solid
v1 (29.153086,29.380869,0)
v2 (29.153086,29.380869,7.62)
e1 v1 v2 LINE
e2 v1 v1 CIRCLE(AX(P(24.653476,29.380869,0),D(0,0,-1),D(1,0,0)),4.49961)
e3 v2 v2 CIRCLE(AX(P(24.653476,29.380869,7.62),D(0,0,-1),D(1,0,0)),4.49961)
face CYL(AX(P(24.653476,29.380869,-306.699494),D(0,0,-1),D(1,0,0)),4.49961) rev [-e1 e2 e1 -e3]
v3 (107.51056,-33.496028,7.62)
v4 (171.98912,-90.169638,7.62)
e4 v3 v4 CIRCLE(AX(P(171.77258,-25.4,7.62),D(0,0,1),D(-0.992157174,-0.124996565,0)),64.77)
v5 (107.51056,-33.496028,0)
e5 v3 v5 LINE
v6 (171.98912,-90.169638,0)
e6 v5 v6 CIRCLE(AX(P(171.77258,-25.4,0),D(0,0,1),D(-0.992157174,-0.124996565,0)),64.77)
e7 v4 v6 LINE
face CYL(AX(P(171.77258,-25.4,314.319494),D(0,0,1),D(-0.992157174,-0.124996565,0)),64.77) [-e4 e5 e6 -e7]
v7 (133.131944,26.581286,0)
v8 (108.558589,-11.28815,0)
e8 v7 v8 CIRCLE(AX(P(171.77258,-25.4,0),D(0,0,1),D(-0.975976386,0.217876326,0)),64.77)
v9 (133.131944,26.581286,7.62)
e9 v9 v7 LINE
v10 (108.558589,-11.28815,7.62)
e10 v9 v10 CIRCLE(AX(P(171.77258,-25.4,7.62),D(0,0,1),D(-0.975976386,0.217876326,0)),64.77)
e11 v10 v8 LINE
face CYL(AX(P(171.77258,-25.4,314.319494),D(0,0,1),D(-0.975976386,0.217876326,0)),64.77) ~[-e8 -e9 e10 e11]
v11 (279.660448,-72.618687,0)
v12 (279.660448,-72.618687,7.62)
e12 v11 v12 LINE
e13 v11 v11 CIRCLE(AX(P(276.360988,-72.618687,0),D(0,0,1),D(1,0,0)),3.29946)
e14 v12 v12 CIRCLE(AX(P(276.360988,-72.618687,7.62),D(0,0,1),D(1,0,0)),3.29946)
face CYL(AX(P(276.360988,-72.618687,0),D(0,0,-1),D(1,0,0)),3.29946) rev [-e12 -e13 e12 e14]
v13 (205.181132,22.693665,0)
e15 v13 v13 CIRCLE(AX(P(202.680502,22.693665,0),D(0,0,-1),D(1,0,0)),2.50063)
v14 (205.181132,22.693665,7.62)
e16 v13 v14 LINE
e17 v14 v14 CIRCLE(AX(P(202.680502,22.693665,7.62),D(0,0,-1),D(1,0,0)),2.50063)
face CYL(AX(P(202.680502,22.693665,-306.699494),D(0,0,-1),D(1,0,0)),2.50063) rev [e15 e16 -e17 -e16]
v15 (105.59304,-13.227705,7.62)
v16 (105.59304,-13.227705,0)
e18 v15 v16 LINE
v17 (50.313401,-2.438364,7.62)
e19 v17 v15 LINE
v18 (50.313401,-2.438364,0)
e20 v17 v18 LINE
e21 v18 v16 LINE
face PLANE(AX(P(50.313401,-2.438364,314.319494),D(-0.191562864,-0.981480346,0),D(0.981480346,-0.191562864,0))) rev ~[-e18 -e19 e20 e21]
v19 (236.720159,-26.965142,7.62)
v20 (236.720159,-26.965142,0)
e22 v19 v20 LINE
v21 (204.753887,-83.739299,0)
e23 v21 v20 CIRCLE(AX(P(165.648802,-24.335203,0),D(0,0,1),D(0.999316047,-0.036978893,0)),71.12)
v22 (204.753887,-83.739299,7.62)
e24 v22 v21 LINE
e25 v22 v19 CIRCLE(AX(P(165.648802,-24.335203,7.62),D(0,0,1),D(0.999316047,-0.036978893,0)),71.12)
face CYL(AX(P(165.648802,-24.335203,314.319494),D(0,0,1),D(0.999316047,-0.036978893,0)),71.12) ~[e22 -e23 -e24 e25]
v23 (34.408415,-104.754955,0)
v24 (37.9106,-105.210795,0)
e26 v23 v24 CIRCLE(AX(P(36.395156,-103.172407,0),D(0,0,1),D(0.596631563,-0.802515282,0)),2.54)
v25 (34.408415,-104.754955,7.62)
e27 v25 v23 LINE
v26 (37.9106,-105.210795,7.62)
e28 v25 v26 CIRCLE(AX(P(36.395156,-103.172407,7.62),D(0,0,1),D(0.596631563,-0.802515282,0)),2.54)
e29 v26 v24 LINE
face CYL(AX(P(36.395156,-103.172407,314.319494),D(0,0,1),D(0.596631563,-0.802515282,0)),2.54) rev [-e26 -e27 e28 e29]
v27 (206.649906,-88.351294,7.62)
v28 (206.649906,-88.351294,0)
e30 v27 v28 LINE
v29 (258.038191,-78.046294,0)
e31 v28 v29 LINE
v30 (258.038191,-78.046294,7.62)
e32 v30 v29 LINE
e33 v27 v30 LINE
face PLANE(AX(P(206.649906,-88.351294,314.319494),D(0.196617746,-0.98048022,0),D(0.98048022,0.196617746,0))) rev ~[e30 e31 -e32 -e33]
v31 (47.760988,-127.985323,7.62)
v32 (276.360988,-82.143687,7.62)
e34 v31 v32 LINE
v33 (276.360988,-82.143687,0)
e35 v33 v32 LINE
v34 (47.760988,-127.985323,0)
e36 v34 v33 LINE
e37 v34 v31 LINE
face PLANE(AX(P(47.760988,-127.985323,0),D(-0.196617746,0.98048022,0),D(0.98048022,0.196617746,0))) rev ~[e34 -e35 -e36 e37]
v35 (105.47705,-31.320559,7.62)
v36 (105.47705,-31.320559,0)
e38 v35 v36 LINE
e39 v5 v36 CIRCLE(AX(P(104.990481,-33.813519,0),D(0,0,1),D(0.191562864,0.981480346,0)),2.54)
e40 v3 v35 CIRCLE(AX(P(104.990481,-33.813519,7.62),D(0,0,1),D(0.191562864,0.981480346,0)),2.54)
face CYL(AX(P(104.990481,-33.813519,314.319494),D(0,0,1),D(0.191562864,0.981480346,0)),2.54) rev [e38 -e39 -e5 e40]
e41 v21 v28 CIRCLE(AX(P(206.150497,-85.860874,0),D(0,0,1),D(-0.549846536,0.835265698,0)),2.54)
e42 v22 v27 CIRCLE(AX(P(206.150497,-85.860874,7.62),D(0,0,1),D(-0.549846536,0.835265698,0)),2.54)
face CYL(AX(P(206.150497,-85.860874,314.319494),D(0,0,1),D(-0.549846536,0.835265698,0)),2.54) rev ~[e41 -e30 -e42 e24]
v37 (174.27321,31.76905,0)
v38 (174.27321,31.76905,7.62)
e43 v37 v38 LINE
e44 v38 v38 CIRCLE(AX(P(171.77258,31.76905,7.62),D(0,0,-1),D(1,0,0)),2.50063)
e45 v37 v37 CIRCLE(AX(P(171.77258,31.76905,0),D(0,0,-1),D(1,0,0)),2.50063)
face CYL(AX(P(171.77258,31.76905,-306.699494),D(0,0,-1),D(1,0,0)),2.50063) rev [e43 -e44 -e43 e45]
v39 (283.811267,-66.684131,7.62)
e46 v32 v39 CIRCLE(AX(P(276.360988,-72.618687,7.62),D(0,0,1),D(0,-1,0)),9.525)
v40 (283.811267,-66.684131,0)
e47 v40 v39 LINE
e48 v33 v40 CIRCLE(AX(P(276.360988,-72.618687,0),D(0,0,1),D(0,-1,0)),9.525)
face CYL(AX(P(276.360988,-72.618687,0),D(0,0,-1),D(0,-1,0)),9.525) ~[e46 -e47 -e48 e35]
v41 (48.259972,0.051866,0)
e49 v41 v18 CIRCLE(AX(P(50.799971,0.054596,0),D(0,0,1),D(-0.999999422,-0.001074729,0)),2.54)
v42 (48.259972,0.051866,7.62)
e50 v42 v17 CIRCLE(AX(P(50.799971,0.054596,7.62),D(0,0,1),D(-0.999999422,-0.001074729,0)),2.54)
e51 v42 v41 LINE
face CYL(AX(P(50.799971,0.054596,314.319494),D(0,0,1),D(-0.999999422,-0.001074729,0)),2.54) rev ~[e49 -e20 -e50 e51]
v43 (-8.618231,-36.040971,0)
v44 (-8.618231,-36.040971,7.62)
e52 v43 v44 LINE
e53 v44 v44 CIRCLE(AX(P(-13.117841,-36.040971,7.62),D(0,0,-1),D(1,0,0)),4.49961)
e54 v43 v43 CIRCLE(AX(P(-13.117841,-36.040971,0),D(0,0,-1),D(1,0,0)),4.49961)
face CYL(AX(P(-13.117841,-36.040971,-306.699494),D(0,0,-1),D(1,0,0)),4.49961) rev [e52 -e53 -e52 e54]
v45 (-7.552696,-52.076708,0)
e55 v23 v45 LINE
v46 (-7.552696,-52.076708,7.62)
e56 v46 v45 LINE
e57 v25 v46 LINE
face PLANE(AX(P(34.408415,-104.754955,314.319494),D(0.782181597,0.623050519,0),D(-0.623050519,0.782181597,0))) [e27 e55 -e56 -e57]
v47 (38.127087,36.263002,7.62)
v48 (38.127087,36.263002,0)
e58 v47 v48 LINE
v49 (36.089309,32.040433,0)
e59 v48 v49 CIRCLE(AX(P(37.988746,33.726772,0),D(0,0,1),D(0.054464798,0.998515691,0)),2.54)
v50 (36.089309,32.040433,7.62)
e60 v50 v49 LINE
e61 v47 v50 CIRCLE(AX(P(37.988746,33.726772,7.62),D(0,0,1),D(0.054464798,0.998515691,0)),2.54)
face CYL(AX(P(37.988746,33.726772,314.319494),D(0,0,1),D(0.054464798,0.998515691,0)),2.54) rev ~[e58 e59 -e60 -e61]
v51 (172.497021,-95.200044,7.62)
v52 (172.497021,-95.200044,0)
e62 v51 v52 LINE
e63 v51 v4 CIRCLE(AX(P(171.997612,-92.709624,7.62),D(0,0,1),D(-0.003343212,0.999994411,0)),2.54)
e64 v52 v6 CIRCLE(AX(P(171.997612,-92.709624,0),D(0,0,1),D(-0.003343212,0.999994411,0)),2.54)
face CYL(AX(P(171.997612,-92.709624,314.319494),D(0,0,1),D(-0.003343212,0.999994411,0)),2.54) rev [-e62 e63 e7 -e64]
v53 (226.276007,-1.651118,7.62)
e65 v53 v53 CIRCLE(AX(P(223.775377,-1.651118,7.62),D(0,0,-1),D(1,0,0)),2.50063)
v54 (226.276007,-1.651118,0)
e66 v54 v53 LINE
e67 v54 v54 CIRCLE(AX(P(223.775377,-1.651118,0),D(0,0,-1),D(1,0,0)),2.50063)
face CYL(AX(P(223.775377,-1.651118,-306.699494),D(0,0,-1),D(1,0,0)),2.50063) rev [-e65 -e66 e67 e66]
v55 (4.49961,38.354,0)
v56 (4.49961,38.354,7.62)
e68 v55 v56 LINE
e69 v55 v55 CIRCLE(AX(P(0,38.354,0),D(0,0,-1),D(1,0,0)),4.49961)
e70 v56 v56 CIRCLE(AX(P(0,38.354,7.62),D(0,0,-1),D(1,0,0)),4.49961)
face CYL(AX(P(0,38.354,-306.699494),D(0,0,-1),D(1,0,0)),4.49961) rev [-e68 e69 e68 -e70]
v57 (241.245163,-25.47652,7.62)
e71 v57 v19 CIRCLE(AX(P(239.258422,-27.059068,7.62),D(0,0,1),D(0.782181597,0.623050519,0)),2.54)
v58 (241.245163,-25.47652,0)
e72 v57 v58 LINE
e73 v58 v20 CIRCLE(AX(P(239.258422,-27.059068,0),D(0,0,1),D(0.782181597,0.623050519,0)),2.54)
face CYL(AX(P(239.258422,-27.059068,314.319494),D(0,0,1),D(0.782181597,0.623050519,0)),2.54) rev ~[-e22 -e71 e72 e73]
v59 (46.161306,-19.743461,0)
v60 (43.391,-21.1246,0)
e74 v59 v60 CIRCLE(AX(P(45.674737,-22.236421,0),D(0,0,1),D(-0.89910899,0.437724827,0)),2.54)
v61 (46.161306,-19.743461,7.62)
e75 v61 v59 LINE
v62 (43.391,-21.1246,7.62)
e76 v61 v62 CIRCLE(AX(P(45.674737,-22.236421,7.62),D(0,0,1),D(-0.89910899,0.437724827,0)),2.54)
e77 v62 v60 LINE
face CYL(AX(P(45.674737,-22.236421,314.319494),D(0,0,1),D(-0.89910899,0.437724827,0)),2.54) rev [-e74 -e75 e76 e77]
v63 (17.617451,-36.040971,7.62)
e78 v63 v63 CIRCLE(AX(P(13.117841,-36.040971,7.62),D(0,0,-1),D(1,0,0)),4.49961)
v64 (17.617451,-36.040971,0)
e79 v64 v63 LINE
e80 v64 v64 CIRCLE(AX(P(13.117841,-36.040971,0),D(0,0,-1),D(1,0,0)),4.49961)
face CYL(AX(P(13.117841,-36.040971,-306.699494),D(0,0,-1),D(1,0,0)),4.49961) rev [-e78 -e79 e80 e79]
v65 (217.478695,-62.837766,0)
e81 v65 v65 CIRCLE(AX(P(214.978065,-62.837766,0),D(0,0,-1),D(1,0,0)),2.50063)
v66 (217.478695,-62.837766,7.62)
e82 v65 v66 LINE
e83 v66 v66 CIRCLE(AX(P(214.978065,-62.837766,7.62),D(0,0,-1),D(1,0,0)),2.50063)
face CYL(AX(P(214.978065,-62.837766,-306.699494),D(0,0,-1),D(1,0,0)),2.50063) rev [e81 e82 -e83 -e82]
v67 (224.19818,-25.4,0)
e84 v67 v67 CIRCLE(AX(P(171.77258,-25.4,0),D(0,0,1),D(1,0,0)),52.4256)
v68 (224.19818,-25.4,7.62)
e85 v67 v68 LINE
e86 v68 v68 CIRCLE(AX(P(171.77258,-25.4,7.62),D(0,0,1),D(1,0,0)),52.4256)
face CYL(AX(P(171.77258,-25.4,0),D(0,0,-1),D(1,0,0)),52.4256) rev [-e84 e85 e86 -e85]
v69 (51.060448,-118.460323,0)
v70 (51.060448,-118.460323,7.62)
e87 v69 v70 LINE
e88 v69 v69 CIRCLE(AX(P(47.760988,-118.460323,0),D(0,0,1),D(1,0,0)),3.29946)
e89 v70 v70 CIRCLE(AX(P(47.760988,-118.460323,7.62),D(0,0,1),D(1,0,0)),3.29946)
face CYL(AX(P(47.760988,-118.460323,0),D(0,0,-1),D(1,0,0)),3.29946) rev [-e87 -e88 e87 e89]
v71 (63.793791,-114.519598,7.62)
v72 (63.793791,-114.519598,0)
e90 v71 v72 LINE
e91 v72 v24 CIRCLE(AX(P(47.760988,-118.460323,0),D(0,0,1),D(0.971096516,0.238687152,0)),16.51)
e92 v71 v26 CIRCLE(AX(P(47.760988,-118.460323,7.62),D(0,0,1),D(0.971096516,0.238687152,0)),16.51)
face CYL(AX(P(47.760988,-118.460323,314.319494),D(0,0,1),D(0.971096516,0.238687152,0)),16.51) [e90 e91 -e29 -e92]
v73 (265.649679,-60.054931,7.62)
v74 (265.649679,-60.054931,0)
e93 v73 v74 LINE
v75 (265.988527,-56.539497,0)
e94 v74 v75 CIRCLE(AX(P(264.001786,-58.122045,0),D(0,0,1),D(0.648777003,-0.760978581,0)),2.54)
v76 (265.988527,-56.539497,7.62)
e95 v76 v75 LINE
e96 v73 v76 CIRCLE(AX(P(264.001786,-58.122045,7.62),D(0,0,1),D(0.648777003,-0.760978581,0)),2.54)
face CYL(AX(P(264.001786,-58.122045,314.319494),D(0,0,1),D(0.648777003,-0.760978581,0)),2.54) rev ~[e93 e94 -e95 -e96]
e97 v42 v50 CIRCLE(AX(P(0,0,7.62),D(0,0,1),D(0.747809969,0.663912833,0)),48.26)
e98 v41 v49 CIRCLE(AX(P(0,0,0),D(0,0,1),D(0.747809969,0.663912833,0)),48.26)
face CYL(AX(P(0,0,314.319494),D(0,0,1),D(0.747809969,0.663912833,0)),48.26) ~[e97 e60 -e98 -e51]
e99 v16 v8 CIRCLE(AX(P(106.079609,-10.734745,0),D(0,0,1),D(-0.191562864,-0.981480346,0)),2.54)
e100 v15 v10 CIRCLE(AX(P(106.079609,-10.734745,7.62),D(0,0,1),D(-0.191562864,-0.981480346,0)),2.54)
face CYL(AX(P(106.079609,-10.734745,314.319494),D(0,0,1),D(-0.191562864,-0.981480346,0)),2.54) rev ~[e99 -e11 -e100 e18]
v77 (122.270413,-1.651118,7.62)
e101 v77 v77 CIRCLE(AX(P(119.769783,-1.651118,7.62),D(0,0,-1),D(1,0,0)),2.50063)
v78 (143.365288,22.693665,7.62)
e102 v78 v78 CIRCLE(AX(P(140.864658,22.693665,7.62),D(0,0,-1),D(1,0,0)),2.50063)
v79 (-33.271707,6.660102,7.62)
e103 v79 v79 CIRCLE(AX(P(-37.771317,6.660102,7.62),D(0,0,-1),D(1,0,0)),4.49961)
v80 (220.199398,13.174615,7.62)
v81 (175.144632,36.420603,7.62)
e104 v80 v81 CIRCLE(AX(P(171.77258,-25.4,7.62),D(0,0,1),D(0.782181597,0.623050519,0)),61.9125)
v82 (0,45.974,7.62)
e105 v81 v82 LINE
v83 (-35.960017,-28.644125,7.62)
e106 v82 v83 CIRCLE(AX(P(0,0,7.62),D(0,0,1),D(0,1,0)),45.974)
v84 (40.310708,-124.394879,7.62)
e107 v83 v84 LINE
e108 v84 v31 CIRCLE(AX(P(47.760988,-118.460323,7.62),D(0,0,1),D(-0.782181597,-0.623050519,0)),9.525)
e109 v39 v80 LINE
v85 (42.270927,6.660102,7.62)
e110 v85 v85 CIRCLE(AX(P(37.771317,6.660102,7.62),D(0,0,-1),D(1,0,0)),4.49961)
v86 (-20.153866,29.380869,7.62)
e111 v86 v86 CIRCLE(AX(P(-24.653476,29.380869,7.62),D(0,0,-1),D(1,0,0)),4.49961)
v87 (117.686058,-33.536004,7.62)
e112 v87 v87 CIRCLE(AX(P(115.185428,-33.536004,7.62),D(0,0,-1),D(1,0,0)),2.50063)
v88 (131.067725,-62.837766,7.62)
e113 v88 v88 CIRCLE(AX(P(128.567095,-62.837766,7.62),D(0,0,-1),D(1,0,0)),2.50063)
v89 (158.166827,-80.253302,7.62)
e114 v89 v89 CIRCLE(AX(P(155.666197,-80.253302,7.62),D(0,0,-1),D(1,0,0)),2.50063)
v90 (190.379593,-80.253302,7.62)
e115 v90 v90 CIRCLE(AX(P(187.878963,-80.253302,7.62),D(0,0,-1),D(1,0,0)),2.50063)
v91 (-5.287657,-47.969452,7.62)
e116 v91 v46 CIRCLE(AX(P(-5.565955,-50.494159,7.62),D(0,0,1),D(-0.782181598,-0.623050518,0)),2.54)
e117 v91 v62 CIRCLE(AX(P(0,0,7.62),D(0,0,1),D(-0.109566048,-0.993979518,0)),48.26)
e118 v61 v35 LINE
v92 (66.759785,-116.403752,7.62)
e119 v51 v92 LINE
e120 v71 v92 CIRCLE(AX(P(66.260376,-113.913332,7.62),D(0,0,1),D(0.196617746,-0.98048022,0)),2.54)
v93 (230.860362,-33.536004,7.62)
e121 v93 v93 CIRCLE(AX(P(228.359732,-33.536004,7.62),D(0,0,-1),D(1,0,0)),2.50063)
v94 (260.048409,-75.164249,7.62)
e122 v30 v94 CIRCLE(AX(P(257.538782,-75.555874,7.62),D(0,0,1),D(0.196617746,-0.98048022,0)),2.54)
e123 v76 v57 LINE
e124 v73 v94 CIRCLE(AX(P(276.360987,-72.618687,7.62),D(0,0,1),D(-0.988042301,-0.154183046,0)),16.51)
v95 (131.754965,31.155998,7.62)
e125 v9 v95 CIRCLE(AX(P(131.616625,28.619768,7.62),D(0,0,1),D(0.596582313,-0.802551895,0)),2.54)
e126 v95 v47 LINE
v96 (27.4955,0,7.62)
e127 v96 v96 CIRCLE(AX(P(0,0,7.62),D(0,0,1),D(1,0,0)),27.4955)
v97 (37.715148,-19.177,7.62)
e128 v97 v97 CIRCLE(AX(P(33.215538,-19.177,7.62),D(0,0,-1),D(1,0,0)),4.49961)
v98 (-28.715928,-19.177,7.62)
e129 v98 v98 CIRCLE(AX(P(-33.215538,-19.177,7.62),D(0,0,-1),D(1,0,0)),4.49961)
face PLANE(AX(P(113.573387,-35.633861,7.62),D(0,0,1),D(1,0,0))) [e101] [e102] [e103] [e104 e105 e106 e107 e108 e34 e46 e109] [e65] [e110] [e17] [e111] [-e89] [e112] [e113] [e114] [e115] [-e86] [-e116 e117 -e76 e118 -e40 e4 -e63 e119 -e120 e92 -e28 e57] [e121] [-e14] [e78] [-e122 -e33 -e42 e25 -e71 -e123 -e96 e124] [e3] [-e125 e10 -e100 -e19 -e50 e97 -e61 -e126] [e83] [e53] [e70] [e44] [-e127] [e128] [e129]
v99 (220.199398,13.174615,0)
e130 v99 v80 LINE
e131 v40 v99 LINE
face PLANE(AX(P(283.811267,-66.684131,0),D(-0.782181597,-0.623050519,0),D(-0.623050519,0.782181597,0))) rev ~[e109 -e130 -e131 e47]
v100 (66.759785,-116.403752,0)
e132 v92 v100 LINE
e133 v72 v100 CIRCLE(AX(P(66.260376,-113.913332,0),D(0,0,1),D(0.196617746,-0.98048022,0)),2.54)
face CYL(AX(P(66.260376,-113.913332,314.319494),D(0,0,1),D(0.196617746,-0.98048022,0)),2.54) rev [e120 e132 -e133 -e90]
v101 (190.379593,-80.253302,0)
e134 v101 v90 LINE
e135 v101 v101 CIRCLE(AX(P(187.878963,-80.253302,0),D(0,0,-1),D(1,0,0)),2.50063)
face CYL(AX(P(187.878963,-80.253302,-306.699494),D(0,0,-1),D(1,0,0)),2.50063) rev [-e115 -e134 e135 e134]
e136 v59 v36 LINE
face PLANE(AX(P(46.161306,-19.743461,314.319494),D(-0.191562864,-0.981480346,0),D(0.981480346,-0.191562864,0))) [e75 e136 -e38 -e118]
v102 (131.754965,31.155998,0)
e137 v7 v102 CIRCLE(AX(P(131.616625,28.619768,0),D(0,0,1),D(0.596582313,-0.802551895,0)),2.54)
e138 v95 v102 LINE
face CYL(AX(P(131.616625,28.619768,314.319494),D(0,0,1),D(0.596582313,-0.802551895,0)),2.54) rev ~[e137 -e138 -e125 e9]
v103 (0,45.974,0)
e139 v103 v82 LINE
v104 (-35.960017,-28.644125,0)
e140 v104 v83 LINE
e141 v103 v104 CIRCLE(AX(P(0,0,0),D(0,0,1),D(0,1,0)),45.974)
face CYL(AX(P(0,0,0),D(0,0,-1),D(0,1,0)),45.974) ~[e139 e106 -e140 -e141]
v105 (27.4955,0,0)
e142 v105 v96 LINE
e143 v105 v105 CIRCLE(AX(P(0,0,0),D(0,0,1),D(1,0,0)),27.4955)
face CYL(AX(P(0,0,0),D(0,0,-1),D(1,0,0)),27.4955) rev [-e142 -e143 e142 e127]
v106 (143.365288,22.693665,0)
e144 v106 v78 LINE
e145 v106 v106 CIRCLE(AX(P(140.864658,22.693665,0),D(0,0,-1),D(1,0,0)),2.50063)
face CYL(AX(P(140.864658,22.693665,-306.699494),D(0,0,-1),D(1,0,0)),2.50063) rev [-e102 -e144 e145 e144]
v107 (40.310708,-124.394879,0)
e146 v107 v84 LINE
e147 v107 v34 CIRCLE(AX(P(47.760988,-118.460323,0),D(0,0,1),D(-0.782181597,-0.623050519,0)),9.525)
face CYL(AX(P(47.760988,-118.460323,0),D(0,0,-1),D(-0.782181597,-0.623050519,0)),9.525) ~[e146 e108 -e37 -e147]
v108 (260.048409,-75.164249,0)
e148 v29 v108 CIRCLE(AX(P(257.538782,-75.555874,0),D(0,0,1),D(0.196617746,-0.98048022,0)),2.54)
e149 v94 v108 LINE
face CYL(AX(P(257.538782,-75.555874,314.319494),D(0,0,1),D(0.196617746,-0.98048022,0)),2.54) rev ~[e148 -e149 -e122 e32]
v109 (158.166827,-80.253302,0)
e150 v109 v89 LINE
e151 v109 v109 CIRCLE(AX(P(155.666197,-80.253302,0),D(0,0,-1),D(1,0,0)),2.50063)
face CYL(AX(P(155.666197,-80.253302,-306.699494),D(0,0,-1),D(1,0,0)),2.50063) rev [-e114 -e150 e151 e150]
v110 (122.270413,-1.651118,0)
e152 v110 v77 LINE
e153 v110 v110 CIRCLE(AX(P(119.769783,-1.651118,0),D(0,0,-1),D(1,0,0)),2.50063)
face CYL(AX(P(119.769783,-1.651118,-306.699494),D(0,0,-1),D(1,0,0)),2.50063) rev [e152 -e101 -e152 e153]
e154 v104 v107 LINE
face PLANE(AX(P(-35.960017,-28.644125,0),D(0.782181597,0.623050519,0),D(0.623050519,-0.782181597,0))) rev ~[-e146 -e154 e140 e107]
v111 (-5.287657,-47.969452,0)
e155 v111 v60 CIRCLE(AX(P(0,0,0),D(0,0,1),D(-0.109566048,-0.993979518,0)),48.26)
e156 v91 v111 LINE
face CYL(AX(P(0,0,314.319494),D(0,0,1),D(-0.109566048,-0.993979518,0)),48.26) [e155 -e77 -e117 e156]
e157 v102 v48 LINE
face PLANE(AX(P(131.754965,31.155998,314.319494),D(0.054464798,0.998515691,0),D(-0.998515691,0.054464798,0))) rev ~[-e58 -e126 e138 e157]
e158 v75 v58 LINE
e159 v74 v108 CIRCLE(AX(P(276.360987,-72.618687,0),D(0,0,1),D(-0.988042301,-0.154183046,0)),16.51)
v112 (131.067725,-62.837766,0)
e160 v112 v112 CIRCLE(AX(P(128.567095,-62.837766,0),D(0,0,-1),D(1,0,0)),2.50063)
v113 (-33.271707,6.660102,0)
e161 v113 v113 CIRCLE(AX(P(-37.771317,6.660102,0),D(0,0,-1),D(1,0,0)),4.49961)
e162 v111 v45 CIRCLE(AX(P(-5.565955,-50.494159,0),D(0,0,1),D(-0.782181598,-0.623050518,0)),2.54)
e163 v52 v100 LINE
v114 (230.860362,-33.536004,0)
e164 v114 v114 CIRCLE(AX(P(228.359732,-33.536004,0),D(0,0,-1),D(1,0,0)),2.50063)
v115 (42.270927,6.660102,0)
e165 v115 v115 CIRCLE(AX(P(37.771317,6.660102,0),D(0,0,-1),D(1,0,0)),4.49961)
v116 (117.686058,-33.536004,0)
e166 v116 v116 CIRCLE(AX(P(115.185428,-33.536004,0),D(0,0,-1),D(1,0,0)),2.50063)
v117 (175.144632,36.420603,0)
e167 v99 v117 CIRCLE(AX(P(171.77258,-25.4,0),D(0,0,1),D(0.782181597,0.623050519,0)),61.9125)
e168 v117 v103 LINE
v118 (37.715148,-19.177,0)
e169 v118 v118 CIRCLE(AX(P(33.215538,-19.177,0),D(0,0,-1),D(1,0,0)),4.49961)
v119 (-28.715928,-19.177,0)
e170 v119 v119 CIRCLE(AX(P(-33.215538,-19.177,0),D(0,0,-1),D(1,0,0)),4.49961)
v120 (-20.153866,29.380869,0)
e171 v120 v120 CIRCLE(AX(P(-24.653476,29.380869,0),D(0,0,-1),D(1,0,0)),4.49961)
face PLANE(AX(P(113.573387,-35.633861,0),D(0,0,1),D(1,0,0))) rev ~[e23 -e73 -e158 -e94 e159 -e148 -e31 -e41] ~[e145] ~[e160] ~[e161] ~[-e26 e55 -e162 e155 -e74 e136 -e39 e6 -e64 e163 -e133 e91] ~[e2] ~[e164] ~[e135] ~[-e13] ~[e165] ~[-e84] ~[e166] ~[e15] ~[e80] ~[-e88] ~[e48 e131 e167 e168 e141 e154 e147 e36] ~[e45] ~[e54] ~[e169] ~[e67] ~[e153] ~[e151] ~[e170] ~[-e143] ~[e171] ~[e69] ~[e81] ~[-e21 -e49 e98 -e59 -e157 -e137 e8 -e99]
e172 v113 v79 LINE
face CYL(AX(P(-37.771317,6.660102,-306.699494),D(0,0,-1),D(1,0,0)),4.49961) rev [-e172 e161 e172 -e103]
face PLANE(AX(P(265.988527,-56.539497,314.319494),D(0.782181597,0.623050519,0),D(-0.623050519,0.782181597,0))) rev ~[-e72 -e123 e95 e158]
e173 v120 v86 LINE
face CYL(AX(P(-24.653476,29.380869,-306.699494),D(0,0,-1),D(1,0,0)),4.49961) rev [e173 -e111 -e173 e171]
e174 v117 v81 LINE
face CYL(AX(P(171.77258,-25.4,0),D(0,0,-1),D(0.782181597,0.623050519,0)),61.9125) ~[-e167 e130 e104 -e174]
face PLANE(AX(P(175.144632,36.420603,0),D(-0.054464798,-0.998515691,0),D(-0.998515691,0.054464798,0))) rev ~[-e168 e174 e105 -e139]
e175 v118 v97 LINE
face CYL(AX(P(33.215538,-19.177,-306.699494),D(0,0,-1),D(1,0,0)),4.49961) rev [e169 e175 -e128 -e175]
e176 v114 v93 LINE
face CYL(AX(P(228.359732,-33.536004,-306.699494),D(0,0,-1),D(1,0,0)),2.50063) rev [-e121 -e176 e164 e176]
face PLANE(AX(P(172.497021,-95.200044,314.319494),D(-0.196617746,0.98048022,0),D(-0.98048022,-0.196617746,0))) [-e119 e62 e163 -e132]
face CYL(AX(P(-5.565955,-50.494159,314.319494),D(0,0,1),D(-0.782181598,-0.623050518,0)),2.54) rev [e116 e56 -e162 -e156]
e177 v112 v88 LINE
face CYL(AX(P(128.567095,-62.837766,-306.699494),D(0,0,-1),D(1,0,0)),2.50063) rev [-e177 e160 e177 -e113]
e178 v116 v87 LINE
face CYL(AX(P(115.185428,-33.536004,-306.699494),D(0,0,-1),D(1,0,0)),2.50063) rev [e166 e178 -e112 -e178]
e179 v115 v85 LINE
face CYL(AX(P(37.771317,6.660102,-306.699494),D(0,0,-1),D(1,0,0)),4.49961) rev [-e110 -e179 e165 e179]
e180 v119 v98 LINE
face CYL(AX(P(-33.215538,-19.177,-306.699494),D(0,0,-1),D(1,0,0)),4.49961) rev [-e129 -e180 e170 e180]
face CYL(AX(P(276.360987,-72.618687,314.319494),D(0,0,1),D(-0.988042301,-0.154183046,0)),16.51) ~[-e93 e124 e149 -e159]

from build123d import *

# Parameters (mm, degrees)
SKETCH1_R               = 3.29946
SKETCH1_R_2             = 27.4955
SKETCH1_R_3             = 52.4256
BOSS_EXTRUDE1_DEPTH     = 7.62
CUT_EXTRUDE1_DEPTH      = 314.319493614
CUT_EXTRUDE1_DEPTH_BACK = 314.319493614
SKETCH2_R               = 4.49961
SKETCH2_R_2             = 2.50063
CUT_EXTRUDE2_DEPTH      = 314.319493614
CUT_EXTRUDE2_DEPTH_BACK = 314.319493614


with BuildPart() as part:
    # Sketch1 → Boss-Extrude1 (new body)
    with BuildSketch(Plane.XY):
        with BuildLine():
            ThreePointArc((40.310707788, -124.394878894), (43.625834707, -127.040890072), (47.760987503, -127.985322704))
            Line((47.760987503, -127.985322704), (276.360987503, -82.143687357))
            ThreePointArc((276.360987503, -82.143687357), (284.941554871, -76.753840153), (283.811267218, -66.684131167))
            Line((283.811267218, -66.684131167), (220.199398147, 13.174615234))
            ThreePointArc((220.199398147, 13.174615234), (200.160512587, 29.620750083), (175.144631834, 36.420602736))
            Line((175.144631834, 36.420602736), (0, 45.974))
            ThreePointArc((0, 45.974), (-41.415538495, 19.959004162), (-35.960016757, -28.644124543))
            Line((-35.960016757, -28.644124543), (40.310707788, -124.394878894))
        make_face()
        with Locations((47.760987503, -118.460322704)):
            Circle(SKETCH1_R, mode=Mode.SUBTRACT)
        with Locations((276.360987503, -72.618687357)):
            Circle(SKETCH1_R, mode=Mode.SUBTRACT)
        Circle(SKETCH1_R_2, mode=Mode.SUBTRACT)
        with Locations((171.77258, -25.4)):
            Circle(SKETCH1_R_3, mode=Mode.SUBTRACT)
    extrude(amount=BOSS_EXTRUDE1_DEPTH)

    # Sketch2 → Cut-Extrude1 (cut, two sides: drawn at the far end of the back side and taken through both)
    with BuildSketch(Plane.XY.offset(7.62).offset(-CUT_EXTRUDE1_DEPTH_BACK)):
        with Locations((0, 38.354)):
            Circle(SKETCH2_R)
        with Locations((171.77258, 31.76905)):
            Circle(SKETCH2_R_2)
        with Locations((24.653475982, 29.380868571)):
            Circle(SKETCH2_R)
        with Locations((37.771316559, 6.660102206)):
            Circle(SKETCH2_R)
        with Locations((33.215538337, -19.177)):
            Circle(SKETCH2_R)
        with Locations((13.117840577, -36.040970778)):
            Circle(SKETCH2_R)
        with Locations((-13.117840577, -36.040970778)):
            Circle(SKETCH2_R)
        with Locations((-33.215538337, -19.177)):
            Circle(SKETCH2_R)
        with Locations((-37.771316559, 6.660102206)):
            Circle(SKETCH2_R)
        with Locations((-24.653475982, 29.380868571)):
            Circle(SKETCH2_R)
        with Locations((202.680501925, 22.693665281)):
            Circle(SKETCH2_R_2)
        with Locations((223.775377024, -1.651118351)):
            Circle(SKETCH2_R_2)
        with Locations((228.359731502, -33.536004105)):
            Circle(SKETCH2_R_2)
        with Locations((214.978065204, -62.837766042)):
            Circle(SKETCH2_R_2)
        with Locations((187.878962629, -80.253301783)):
            Circle(SKETCH2_R_2)
        with Locations((155.666197371, -80.253301783)):
            Circle(SKETCH2_R_2)
        with Locations((128.567094796, -62.837766042)):
            Circle(SKETCH2_R_2)
        with Locations((115.185428498, -33.536004105)):
            Circle(SKETCH2_R_2)
        with Locations((119.769782976, -1.651118351)):
            Circle(SKETCH2_R_2)
        with Locations((140.864658075, 22.693665281)):
            Circle(SKETCH2_R_2)
    extrude(amount=CUT_EXTRUDE1_DEPTH + CUT_EXTRUDE1_DEPTH_BACK, mode=Mode.SUBTRACT)

    # Sketch5 → Cut-Extrude2 (cut, two sides: drawn at the far end of the back side and taken through both)
    with BuildSketch(Plane(origin=(0, 0, 0), x_dir=(-1, 0, 0), z_dir=(0, 0, -1)).offset(-CUT_EXTRUDE2_DEPTH_BACK)):
        with BuildLine():
            Line((-265.98852685, -56.539497078), (-241.245162788, -25.476519923))
            ThreePointArc((-241.245162788, -25.476519923), (-238.464669174, -24.646277907), (-236.720158772, -26.965141853))
            ThreePointArc((-236.720158772, -26.965141853), (-227.620878985, -59.228125128), (-204.753887162, -83.739299465))
            ThreePointArc((-204.753887162, -83.739299465), (-203.801270663, -86.826655842), (-206.649906438, -88.351294098))
            Line((-206.649906438, -88.351294098), (-258.038190746, -78.04629414))
            ThreePointArc((-258.038190746, -78.04629414), (-259.622077281, -77.008967427), (-260.048409115, -75.164249445))
            ThreePointArc((-260.048409115, -75.164249445), (-260.880500131, -66.879818937), (-265.649679181, -60.054930991))
            ThreePointArc((-265.649679181, -60.054930991), (-266.530067918, -58.365742929), (-265.98852685, -56.539497078))
        make_face()
        with BuildLine():
            Line((-131.754965097, 31.155997891), (-38.12708703, 36.26300177))
            ThreePointArc((-38.12708703, 36.26300177), (-35.701196113, 34.830725487), (-36.08930912, 32.040433318))
            ThreePointArc((-36.08930912, 32.040433318), (-45.105625086, 17.161299066), (-48.259972129, 0.05186645))
            ThreePointArc((-48.259972129, 0.05186645), (-48.840291996, -1.561342946), (-50.313400987, -2.438363815))
            Line((-50.313400987, -2.438363815), (-105.593039761, -13.227704597))
            ThreePointArc((-105.593039761, -13.227704597), (-107.469894435, -12.860469717), (-108.558589456, -11.288150386))
            ThreePointArc((-108.558589456, -11.288150386), (-117.439212577, 9.856745234), (-133.131943584, 26.581286223))
            ThreePointArc((-133.131943584, 26.581286223), (-134.048834262, 29.351858), (-131.754965097, 31.155997891))
        make_face()
        with BuildLine():
            Line((-172.497020686, -95.200043594), (-66.759785208, -116.403752218))
            ThreePointArc((-66.759785208, -116.403752218), (-64.898408853, -116.057311266), (-63.793790983, -114.519597825))
            ThreePointArc((-63.793790983, -114.519597825), (-53.348385706, -102.924522715), (-37.910600393, -105.210795401))
            ThreePointArc((-37.910600393, -105.210795401), (-36.067318036, -105.691160666), (-34.408414964, -104.754954902))
            Line((-34.408414964, -104.754954902), (7.552696475, -52.076707806))
            ThreePointArc((7.552696475, -52.076707806), (7.7901592, -49.267572092), (5.287657457, -47.969451515))
            ThreePointArc((5.287657457, -47.969451515), (-23.30510003, -42.259909046), (-43.390999871, -21.124600118))
            ThreePointArc((-43.390999871, -21.124600118), (-44.541450027, -19.963260096), (-46.161306381, -19.743461099))
            Line((-46.161306381, -19.743461099), (-105.477050266, -31.320558719))
            ThreePointArc((-105.477050266, -31.320558719), (-106.846053421, -32.079030552), (-107.510559814, -33.496027522))
            ThreePointArc((-107.510559814, -33.496027522), (-129.012430096, -74.048972037), (-171.989119852, -90.16963803))
            ThreePointArc((-171.989119852, -90.16963803), (-174.524763167, -92.454466996), (-172.497020686, -95.200043594))
        make_face()
    extrude(amount=CUT_EXTRUDE2_DEPTH + CUT_EXTRUDE2_DEPTH_BACK, mode=Mode.SUBTRACT)


solid = part.part
